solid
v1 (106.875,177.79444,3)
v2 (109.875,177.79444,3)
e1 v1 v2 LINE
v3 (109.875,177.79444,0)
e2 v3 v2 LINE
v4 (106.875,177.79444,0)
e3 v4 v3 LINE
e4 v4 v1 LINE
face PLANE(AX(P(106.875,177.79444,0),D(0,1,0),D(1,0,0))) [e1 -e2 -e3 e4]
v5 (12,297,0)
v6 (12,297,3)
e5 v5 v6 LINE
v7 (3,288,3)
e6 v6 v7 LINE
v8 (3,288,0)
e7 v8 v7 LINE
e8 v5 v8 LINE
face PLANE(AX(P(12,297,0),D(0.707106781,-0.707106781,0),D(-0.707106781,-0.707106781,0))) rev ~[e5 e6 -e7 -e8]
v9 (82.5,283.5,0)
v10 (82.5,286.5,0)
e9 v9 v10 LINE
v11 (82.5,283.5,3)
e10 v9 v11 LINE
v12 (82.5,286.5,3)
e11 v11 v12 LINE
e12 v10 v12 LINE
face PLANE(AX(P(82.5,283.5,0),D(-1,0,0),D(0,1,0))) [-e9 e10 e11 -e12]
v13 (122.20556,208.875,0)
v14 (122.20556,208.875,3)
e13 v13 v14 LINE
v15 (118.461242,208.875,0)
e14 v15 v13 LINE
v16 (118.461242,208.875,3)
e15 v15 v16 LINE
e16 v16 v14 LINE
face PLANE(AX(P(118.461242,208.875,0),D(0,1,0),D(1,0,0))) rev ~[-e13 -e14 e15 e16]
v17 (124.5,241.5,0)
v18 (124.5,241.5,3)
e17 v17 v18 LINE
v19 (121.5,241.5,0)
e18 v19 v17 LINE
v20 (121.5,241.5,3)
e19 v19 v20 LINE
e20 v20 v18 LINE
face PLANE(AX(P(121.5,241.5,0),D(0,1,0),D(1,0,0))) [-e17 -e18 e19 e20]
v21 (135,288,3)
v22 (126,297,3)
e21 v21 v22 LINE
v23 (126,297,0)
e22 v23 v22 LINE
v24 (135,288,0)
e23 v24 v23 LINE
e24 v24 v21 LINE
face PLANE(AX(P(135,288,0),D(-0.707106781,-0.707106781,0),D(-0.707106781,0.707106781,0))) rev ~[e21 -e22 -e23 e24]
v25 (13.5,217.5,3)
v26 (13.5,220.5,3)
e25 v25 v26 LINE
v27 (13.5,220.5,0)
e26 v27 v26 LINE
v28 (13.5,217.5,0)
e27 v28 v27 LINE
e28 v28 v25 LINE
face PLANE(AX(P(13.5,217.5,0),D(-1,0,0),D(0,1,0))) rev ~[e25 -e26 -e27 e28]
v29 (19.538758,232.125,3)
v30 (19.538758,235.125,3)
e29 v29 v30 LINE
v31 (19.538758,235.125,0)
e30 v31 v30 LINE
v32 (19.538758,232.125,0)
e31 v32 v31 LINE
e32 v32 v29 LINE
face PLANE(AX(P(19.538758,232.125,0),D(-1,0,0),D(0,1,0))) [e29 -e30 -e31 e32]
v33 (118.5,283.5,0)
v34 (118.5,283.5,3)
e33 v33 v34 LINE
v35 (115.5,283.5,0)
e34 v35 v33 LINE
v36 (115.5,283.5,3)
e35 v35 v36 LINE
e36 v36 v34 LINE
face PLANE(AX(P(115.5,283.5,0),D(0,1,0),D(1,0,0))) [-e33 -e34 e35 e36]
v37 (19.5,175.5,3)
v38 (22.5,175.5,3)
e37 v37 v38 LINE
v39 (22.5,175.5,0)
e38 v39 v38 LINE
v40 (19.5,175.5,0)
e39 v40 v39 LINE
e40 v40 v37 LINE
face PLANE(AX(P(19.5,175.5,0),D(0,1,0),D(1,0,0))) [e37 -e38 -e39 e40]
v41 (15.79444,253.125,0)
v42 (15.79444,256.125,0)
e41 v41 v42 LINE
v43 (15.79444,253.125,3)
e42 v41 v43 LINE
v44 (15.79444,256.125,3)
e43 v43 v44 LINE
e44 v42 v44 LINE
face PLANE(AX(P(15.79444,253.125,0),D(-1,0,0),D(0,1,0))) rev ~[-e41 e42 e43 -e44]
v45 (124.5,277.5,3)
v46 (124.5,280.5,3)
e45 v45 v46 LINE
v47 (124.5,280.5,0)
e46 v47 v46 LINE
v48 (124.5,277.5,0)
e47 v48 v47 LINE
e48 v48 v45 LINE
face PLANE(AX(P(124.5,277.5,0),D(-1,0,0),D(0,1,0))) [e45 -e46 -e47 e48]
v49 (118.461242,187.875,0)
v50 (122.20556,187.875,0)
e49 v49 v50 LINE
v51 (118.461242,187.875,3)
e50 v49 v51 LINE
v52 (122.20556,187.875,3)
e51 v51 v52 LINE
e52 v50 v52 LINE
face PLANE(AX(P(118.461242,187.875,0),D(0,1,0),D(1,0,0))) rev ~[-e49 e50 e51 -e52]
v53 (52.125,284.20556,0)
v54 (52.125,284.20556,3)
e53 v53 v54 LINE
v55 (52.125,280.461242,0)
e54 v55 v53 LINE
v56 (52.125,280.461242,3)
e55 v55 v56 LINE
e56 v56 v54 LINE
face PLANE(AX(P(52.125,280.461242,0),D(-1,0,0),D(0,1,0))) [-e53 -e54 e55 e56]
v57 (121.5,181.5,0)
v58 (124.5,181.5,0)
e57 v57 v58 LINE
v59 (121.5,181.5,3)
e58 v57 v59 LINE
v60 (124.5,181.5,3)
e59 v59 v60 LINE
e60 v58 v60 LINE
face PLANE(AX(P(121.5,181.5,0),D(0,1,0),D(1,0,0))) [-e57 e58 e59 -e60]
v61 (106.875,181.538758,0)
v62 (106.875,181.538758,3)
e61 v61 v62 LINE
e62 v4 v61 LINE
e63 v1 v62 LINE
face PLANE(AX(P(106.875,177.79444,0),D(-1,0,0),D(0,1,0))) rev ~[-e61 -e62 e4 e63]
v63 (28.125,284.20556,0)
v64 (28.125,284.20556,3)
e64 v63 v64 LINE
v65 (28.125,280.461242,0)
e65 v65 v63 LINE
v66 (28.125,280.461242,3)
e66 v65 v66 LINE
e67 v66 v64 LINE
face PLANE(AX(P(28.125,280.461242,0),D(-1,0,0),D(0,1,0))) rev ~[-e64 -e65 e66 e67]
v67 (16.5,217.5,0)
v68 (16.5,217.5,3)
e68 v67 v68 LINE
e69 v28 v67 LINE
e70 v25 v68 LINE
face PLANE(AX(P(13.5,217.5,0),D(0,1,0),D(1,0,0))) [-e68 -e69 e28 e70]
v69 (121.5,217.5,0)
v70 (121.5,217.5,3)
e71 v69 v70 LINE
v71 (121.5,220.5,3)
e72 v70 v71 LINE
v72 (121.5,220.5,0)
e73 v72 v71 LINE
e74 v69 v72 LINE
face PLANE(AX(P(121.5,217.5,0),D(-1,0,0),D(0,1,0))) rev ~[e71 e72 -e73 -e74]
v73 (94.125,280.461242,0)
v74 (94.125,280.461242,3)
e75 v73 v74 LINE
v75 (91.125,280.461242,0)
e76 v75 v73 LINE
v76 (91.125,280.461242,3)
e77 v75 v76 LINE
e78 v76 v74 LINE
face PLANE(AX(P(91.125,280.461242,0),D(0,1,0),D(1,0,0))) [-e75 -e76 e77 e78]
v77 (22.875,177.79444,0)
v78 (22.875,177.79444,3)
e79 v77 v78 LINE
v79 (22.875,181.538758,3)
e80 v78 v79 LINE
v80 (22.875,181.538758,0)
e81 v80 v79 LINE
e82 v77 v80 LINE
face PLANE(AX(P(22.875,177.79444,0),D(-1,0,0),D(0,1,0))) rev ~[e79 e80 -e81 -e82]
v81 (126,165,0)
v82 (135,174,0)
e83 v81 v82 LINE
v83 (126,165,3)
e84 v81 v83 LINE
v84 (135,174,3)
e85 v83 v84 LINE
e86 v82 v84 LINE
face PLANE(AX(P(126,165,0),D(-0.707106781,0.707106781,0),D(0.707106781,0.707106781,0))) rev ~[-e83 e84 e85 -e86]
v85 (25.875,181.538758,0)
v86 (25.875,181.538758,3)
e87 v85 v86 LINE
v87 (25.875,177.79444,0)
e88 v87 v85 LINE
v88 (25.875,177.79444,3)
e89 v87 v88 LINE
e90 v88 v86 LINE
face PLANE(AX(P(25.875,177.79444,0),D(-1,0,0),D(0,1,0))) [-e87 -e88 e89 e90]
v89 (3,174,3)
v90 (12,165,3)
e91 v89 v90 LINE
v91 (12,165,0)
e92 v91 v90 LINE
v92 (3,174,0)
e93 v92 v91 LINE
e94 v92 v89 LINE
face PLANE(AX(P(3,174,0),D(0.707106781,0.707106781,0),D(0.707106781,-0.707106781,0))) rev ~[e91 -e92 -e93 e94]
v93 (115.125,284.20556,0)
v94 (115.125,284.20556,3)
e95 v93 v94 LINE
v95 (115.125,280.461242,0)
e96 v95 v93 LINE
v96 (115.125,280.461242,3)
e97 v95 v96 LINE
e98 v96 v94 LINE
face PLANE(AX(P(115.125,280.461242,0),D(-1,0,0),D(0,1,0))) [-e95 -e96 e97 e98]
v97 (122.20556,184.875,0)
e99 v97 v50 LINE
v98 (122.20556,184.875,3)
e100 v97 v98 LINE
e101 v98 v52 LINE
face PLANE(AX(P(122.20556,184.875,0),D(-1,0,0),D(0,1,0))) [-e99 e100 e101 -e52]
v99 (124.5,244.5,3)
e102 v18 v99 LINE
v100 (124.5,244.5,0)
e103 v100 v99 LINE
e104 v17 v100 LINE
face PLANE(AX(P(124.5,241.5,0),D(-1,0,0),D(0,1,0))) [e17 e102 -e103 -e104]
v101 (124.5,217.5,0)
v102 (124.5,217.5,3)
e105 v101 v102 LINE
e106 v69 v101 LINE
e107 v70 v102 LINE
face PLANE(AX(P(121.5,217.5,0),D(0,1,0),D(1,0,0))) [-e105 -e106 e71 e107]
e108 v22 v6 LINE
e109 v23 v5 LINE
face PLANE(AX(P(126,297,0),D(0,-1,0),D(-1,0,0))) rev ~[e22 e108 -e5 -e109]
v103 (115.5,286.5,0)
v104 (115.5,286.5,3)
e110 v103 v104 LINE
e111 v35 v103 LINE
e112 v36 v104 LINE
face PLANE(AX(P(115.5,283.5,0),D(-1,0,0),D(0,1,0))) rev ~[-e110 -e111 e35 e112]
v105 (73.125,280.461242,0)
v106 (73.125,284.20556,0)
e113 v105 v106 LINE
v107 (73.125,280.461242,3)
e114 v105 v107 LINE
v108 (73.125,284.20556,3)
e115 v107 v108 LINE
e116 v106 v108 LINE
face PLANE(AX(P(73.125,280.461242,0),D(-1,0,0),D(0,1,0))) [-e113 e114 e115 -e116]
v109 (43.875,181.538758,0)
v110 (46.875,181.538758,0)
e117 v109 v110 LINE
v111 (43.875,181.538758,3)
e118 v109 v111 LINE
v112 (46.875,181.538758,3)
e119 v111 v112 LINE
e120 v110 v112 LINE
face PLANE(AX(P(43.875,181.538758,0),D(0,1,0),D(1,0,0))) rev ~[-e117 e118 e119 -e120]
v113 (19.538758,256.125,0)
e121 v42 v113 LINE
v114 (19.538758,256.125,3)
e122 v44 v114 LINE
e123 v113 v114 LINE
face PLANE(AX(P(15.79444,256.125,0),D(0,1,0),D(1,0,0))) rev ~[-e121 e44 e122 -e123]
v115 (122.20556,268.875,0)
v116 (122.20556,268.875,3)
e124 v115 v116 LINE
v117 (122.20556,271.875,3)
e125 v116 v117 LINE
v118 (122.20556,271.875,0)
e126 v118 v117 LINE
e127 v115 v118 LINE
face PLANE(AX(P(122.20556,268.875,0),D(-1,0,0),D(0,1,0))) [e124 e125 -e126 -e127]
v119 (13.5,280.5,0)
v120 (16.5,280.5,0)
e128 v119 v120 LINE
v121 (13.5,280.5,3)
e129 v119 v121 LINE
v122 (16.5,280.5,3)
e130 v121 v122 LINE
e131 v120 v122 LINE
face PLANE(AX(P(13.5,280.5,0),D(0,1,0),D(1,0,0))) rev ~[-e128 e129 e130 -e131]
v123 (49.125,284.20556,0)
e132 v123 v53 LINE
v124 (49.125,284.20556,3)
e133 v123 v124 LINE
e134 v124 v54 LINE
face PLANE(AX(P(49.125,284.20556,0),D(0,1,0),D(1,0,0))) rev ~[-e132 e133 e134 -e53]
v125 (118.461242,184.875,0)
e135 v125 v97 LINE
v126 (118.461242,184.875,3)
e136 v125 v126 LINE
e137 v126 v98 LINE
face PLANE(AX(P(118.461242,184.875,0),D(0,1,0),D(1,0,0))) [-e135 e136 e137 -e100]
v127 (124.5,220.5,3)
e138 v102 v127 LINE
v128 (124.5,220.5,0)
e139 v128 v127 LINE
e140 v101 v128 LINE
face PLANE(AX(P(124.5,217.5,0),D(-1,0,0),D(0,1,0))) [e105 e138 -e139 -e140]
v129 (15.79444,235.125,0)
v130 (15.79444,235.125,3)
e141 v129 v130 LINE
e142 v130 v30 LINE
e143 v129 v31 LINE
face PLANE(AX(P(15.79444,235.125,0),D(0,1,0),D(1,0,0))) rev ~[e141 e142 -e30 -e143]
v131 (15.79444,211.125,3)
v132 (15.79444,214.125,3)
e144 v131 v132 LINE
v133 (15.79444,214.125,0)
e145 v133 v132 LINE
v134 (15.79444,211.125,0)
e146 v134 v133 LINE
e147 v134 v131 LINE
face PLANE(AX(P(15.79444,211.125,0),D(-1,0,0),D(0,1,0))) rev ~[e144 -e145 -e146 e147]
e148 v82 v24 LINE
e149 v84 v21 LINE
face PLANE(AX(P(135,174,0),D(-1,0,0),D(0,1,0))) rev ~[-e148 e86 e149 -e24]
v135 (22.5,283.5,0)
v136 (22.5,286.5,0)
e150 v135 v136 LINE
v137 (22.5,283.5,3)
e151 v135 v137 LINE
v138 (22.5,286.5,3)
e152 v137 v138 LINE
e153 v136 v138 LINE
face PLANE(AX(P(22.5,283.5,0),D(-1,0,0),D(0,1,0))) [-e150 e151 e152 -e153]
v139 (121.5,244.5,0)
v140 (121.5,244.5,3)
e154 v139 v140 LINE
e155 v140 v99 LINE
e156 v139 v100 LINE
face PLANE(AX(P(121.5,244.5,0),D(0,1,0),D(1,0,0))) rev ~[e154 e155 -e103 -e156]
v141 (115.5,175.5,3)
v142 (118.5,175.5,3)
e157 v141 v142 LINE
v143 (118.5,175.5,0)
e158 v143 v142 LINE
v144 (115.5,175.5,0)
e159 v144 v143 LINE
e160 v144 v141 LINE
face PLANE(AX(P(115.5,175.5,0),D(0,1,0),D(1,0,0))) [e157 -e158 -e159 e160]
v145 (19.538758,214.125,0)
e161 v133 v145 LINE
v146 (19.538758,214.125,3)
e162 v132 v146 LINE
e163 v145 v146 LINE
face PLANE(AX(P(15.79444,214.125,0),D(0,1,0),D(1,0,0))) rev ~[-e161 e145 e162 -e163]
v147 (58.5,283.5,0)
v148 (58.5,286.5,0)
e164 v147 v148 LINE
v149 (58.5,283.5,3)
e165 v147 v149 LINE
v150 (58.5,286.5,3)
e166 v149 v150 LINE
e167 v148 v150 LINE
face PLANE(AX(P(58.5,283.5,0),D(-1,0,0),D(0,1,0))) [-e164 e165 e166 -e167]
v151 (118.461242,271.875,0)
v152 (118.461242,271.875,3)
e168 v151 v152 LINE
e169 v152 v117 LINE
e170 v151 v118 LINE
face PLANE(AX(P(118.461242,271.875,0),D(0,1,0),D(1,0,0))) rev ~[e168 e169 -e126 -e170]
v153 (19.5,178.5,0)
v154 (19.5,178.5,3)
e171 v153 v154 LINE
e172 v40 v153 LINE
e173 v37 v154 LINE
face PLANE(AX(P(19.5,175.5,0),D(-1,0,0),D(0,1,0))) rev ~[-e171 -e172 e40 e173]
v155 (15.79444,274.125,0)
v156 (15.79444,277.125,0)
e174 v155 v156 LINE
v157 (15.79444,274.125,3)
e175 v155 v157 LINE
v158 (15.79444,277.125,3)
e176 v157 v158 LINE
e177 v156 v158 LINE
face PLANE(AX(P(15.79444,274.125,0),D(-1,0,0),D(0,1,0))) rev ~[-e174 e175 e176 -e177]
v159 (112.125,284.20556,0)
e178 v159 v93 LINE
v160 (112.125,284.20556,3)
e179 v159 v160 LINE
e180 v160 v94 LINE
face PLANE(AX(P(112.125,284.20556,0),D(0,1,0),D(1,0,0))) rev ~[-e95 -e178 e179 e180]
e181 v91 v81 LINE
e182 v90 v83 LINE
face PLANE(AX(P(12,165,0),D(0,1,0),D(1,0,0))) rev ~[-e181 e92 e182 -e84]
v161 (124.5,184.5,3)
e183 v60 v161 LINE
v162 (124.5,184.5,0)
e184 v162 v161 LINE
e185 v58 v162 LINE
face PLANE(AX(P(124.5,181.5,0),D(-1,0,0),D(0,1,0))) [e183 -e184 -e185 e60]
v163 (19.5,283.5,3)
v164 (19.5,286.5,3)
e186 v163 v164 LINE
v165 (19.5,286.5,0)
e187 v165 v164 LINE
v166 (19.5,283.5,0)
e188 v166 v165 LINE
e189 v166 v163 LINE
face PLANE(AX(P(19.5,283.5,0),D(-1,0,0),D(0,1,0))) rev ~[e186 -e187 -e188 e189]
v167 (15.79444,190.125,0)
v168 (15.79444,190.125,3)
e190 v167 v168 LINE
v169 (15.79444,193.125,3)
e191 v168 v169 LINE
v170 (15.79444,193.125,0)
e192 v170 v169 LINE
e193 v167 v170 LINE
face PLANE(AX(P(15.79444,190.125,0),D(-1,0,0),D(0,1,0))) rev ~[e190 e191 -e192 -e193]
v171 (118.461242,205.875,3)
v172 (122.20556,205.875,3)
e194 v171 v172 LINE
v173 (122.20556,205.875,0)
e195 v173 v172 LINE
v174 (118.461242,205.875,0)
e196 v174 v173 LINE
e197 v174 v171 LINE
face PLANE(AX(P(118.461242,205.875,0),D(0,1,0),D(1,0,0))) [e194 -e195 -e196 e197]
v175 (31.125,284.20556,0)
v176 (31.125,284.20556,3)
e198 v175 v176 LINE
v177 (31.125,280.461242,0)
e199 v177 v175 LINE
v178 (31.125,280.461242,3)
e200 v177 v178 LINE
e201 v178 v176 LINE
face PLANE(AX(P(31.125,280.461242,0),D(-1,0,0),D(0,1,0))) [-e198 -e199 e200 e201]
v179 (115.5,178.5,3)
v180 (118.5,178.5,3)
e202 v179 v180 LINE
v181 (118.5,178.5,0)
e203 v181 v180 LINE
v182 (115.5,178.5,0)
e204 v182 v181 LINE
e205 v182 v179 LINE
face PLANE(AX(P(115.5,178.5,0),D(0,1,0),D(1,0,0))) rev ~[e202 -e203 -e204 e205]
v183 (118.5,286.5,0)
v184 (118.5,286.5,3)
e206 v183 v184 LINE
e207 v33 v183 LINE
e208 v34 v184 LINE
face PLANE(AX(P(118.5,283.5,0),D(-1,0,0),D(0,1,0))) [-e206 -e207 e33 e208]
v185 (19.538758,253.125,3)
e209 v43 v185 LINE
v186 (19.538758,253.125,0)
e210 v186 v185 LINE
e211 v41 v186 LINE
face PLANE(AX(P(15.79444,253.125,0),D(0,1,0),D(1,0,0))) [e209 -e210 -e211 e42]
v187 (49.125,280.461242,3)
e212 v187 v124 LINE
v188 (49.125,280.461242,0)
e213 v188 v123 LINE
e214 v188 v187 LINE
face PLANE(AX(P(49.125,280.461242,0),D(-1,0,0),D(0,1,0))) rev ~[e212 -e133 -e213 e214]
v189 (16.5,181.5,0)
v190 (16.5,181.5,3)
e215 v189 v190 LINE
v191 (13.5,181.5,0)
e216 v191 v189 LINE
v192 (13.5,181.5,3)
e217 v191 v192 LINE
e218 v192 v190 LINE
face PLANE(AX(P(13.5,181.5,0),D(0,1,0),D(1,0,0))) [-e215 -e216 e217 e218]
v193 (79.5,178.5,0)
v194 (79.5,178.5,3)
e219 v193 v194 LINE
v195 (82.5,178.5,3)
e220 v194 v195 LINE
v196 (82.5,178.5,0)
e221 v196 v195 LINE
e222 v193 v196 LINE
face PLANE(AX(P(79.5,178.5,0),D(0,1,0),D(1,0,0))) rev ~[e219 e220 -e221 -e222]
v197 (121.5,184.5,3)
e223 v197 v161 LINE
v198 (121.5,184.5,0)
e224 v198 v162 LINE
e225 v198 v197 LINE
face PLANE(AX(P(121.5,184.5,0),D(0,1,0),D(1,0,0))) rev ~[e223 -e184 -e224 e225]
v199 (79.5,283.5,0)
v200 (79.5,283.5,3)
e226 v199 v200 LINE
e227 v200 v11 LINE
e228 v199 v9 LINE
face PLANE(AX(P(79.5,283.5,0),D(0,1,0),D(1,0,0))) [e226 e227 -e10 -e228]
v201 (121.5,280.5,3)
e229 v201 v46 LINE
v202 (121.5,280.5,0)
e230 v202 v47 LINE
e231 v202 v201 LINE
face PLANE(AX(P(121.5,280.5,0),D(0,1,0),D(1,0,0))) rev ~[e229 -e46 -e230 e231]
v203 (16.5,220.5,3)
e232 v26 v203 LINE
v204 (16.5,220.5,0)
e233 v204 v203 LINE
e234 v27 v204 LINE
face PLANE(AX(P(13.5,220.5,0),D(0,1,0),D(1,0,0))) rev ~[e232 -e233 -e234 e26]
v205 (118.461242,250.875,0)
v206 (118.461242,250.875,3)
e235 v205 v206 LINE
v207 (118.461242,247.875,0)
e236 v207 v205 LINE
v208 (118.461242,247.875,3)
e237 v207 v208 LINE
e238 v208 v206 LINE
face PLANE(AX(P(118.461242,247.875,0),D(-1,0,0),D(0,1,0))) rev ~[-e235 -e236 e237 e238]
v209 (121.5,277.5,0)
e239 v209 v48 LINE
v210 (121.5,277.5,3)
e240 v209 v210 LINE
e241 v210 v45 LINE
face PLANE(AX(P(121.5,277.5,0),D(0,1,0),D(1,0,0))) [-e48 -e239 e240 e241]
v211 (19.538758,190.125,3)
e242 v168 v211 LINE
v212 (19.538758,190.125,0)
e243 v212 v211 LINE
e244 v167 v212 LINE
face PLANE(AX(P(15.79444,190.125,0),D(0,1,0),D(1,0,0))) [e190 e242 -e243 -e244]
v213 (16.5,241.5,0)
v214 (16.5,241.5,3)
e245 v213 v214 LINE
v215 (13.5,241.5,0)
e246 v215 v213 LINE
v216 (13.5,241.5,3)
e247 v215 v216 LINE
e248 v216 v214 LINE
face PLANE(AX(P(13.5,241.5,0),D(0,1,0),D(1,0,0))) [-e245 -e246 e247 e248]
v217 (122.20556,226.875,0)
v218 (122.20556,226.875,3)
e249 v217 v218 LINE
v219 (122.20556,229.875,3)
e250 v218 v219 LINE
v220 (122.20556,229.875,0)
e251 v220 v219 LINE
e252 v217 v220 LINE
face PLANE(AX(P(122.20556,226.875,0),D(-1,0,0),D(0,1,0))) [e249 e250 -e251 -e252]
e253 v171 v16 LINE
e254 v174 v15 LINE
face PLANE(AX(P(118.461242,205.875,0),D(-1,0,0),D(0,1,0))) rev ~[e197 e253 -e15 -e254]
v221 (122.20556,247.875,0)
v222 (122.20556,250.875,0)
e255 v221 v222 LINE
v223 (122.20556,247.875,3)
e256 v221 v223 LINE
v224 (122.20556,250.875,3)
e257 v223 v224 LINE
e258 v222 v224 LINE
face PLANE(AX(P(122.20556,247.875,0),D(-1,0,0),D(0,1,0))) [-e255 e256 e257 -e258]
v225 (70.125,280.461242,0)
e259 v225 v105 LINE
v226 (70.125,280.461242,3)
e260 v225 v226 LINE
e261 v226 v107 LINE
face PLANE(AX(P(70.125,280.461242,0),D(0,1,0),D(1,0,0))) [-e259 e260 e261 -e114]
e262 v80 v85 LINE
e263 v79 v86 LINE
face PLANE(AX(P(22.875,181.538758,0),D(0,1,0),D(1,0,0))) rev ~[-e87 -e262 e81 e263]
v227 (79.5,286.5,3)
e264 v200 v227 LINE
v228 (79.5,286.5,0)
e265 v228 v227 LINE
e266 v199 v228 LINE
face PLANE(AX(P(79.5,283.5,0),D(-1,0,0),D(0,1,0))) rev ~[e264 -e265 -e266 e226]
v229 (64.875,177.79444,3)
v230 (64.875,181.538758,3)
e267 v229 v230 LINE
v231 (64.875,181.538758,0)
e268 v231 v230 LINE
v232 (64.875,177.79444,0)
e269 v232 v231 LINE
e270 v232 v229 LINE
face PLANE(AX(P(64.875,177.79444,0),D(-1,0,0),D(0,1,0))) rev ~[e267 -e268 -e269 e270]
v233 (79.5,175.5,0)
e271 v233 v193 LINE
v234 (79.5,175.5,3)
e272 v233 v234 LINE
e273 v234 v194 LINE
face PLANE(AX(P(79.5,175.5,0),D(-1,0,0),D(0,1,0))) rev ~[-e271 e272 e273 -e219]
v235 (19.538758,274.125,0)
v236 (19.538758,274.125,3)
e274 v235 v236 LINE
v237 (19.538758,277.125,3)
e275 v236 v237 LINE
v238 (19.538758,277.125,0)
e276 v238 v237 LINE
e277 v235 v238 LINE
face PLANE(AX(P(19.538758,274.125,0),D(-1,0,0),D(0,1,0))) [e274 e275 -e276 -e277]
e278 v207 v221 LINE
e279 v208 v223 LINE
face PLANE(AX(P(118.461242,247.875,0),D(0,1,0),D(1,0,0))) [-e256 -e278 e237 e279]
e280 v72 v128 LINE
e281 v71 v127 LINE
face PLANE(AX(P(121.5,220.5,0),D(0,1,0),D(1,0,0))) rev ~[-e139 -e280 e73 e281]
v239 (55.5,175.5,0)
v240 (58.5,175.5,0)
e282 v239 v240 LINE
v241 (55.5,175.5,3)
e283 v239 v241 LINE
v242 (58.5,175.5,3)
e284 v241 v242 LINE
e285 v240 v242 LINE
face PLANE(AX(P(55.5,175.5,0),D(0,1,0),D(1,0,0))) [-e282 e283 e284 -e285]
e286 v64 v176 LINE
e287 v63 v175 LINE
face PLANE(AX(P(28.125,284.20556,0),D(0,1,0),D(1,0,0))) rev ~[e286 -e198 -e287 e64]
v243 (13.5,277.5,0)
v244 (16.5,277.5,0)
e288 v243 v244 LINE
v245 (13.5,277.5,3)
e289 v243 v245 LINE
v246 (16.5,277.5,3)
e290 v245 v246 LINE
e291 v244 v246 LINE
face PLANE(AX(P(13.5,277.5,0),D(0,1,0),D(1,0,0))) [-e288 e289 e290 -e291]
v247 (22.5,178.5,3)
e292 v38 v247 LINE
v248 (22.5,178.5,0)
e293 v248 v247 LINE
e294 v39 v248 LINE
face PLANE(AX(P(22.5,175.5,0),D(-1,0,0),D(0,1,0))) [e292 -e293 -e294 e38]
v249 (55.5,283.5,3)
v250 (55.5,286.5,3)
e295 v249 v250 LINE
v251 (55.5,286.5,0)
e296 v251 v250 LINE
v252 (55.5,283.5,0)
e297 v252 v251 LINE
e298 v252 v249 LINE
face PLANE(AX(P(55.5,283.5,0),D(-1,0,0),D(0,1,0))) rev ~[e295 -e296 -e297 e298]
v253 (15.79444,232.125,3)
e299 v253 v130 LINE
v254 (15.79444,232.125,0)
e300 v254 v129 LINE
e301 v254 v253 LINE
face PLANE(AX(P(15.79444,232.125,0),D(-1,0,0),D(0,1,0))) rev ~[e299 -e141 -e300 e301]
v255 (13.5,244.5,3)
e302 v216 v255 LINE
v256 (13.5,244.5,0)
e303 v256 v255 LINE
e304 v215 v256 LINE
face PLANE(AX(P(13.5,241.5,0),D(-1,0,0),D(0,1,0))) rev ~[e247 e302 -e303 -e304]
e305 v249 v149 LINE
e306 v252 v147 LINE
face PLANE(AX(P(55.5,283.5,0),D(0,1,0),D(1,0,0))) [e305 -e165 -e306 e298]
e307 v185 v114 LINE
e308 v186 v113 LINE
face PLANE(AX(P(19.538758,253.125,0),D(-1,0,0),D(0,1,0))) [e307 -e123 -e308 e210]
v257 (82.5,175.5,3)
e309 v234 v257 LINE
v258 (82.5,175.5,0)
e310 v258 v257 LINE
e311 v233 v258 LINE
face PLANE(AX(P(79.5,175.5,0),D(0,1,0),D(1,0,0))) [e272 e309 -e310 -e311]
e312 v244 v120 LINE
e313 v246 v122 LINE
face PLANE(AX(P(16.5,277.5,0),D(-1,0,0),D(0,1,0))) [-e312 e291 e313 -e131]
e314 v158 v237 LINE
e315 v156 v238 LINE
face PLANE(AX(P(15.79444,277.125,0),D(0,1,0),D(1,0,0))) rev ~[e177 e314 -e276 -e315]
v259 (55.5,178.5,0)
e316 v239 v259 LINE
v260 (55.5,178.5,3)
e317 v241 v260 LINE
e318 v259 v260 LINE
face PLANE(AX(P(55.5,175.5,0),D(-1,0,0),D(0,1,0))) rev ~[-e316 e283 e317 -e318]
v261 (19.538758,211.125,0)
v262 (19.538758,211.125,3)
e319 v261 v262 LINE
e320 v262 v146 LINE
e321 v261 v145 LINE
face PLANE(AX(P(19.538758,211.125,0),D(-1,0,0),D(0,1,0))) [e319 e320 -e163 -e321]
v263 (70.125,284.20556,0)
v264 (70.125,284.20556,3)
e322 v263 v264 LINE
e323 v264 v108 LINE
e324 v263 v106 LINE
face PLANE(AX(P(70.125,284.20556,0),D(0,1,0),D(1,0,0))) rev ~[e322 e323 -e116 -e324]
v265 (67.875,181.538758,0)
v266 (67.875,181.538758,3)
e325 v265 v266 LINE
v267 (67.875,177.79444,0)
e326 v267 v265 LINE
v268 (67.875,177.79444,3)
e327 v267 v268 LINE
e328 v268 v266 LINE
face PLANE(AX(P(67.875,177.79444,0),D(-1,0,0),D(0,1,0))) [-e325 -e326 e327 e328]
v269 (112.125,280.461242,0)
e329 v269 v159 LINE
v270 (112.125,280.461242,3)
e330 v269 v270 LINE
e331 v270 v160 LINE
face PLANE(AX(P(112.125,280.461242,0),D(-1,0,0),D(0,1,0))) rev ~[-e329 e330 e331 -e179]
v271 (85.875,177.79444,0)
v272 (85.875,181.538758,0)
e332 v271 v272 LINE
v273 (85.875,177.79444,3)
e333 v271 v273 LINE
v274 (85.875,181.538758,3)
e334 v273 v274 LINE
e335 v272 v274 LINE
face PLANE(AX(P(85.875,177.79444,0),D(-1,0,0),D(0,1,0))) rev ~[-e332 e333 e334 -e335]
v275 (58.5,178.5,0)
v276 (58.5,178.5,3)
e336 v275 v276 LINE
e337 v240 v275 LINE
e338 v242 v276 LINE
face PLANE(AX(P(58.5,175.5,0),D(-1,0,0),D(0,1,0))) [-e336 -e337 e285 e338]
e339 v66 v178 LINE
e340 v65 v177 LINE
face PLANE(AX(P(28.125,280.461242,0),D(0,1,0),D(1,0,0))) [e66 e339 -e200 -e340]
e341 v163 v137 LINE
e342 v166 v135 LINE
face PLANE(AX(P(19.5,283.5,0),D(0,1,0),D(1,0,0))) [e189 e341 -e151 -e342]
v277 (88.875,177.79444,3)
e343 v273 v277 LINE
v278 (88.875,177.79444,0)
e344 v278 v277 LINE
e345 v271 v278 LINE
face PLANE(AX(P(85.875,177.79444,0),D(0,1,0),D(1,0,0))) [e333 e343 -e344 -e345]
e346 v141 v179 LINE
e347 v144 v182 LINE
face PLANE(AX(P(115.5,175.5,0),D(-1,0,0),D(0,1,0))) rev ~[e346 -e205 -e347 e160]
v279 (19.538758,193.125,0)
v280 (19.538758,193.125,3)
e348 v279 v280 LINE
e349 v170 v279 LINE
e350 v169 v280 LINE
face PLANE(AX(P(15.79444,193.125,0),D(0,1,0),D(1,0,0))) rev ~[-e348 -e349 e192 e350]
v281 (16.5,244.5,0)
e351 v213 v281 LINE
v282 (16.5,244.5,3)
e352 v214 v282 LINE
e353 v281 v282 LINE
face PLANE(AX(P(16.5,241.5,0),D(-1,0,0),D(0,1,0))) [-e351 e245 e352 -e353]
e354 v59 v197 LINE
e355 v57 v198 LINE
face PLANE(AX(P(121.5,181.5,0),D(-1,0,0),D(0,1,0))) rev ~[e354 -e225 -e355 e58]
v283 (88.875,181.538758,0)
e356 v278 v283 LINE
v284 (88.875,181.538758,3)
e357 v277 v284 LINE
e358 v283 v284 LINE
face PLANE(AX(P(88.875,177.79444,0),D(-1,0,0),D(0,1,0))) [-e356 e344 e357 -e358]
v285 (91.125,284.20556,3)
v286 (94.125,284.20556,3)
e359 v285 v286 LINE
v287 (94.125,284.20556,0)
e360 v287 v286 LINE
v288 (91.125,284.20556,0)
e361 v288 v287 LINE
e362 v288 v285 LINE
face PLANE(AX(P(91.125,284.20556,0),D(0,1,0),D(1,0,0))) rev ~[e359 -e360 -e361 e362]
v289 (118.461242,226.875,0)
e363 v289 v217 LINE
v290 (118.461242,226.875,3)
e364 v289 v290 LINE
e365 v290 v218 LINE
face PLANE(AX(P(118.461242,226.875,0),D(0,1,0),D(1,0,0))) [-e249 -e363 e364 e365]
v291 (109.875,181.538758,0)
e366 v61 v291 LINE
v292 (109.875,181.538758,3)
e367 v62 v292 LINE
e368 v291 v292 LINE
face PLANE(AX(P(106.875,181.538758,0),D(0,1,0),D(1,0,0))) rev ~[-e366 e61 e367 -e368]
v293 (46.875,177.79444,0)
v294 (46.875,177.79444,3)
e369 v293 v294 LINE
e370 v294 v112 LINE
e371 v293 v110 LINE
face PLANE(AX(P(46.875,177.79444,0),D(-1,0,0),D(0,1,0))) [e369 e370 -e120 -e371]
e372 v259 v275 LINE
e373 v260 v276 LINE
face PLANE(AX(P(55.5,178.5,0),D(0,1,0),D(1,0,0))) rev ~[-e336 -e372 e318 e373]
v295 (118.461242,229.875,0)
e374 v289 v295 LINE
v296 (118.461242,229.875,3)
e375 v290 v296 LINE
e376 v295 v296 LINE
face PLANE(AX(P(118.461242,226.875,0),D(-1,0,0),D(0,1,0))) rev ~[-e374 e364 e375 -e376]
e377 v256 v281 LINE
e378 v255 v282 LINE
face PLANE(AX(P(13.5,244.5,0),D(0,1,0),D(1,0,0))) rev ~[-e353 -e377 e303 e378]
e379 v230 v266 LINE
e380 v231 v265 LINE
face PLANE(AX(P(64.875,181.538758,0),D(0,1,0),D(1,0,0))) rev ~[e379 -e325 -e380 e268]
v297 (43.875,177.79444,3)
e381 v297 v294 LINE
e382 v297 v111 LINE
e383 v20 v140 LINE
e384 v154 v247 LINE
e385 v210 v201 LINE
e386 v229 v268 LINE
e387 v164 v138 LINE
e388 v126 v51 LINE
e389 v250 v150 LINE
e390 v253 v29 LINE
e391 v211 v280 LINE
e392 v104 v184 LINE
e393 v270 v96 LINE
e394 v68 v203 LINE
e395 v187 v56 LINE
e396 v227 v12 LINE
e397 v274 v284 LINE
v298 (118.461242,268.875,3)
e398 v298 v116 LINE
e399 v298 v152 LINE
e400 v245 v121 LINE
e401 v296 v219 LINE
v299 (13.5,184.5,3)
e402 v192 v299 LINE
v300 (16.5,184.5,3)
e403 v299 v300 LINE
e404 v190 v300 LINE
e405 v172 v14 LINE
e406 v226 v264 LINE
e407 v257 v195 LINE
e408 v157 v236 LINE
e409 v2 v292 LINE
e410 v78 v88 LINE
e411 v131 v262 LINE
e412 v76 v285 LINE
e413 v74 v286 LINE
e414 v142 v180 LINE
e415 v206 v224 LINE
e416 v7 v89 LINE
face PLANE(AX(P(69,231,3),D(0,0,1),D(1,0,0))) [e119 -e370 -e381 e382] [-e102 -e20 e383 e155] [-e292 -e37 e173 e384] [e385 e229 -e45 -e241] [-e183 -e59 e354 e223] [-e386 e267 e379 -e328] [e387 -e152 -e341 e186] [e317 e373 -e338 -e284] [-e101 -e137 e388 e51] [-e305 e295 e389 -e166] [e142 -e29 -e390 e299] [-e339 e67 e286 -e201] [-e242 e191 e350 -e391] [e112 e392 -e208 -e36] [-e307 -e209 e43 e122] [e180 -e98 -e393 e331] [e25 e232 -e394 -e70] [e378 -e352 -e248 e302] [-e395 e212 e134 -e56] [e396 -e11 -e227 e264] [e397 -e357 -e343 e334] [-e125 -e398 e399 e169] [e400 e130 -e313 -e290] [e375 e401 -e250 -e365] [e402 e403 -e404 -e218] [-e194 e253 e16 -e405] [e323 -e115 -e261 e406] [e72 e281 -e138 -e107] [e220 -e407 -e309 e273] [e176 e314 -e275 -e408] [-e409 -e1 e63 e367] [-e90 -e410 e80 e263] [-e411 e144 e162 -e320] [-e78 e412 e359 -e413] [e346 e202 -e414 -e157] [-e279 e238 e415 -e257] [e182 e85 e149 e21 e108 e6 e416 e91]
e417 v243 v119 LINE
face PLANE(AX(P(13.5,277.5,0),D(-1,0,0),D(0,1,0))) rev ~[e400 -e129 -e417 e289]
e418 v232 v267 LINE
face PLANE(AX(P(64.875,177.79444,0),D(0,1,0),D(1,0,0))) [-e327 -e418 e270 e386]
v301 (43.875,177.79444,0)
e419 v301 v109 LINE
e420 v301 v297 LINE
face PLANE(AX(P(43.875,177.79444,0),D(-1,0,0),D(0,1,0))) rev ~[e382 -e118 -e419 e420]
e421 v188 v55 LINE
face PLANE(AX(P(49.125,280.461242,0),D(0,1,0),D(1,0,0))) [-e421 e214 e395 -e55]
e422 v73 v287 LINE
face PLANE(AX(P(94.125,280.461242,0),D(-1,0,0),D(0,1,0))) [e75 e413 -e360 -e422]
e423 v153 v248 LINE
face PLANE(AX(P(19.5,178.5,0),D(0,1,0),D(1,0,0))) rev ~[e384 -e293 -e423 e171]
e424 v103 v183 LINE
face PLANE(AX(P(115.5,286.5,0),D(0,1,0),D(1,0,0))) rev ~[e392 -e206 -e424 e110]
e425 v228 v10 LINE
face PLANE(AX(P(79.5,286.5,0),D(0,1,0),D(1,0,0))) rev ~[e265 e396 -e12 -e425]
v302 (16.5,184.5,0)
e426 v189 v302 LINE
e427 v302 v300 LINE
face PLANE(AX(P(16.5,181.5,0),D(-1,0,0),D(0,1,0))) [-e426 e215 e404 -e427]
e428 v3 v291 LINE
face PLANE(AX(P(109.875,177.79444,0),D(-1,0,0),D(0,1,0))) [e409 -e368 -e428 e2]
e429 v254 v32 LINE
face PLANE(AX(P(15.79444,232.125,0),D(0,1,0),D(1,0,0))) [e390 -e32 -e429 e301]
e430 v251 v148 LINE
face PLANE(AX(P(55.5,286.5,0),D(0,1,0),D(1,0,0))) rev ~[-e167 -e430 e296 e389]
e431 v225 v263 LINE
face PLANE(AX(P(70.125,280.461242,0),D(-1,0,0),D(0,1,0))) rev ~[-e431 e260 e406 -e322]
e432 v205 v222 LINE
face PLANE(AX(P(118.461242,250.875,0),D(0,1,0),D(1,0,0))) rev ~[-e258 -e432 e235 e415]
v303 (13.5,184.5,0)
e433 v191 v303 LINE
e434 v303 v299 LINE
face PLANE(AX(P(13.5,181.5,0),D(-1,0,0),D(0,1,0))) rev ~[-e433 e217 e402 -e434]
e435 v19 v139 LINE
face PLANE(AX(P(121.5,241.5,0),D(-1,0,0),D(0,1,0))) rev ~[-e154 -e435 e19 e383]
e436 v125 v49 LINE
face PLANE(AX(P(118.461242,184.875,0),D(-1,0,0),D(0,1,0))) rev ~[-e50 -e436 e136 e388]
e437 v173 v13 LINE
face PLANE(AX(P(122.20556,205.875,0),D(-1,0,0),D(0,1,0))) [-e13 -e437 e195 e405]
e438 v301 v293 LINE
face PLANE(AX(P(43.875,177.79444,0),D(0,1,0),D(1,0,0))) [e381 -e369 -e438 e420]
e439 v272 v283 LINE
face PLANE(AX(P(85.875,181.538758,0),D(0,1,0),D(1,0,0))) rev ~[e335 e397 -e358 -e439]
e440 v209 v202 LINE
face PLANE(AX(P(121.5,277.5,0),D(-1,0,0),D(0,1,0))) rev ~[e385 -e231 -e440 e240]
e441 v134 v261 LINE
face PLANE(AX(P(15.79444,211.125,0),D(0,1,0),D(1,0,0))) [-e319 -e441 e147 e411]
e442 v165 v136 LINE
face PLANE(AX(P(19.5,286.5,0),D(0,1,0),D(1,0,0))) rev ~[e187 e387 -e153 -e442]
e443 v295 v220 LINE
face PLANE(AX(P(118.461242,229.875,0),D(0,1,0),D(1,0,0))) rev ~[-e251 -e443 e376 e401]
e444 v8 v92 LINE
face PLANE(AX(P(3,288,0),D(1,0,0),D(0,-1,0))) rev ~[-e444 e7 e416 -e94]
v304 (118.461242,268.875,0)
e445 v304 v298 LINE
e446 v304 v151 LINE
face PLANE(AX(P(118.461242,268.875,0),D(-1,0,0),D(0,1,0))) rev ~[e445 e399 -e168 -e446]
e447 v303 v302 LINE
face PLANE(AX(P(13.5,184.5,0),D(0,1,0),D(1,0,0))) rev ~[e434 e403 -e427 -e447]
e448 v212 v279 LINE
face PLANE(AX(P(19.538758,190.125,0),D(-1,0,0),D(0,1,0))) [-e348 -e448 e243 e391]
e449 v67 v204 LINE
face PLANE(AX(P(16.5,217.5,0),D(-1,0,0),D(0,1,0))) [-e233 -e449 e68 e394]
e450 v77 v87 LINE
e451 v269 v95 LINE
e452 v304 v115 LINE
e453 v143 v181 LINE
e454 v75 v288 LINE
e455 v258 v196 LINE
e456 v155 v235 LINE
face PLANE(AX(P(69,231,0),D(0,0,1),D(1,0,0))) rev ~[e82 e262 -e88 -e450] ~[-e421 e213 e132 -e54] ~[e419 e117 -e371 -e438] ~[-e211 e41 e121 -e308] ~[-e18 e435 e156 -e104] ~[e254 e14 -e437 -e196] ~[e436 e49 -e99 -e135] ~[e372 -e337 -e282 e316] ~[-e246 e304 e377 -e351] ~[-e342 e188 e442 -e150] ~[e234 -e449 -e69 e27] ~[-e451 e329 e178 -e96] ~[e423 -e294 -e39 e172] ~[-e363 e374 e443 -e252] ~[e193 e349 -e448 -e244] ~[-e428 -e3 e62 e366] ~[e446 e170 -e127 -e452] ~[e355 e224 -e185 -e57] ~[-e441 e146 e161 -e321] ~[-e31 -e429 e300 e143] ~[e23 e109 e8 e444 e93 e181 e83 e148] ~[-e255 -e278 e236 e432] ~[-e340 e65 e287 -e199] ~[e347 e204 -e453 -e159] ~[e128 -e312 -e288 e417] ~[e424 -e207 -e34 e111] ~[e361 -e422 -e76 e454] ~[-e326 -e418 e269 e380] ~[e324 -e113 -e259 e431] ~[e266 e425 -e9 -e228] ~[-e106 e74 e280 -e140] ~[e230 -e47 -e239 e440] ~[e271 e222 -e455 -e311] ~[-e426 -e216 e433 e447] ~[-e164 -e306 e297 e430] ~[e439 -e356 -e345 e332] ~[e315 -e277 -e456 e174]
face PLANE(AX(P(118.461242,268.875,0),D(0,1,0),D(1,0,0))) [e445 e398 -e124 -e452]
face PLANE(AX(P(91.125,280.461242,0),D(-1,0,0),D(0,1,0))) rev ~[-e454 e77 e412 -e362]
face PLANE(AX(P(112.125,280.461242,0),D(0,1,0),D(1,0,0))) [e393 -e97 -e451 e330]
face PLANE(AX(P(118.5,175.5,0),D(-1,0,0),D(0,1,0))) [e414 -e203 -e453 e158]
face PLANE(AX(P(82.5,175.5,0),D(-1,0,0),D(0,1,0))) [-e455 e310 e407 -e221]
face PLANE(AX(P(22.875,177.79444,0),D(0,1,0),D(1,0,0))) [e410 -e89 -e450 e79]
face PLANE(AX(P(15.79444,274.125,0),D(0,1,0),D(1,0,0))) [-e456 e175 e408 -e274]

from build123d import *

# Parameters (mm, degrees)
SKETCH1_W           = 3
SKETCH1_H           = 3
SKETCH1_W_2         = 3.744317383
SKETCH1_H_2         = 3.744317383
BOSS_EXTRUDE1_DEPTH = 3


with BuildPart() as part:
    # Sketch1 → Boss-Extrude1 (new body)
    with BuildSketch(Plane.XY):
        Polygon((12, 297), (3, 288), (3, 174), (12, 165), (126, 165), (135, 174), (135, 288), (126, 297), align=None)
        with Locations((57, 285)):
            Rectangle(SKETCH1_W, SKETCH1_H, mode=Mode.SUBTRACT)
        with Locations((81, 285)):
            Rectangle(SKETCH1_W, SKETCH1_H, mode=Mode.SUBTRACT)
        with Locations((21, 285)):
            Rectangle(SKETCH1_W, SKETCH1_H, mode=Mode.SUBTRACT)
        with Locations((117, 285)):
            Rectangle(SKETCH1_W, SKETCH1_H, mode=Mode.SUBTRACT)
        with Locations((81, 177)):
            Rectangle(SKETCH1_W, SKETCH1_H, mode=Mode.SUBTRACT)
        with Locations((57, 177)):
            Rectangle(SKETCH1_W, SKETCH1_H, mode=Mode.SUBTRACT)
        with Locations((117, 177)):
            Rectangle(SKETCH1_W, SKETCH1_H, mode=Mode.SUBTRACT)
        with Locations((21, 177)):
            Rectangle(SKETCH1_W, SKETCH1_H, mode=Mode.SUBTRACT)
        with Locations((15, 279)):
            Rectangle(SKETCH1_W, SKETCH1_H, mode=Mode.SUBTRACT)
        with Locations((15, 183)):
            Rectangle(SKETCH1_W, SKETCH1_H, mode=Mode.SUBTRACT)
        with Locations((15, 243)):
            Rectangle(SKETCH1_W, SKETCH1_H, mode=Mode.SUBTRACT)
        with Locations((15, 219)):
            Rectangle(SKETCH1_W, SKETCH1_H, mode=Mode.SUBTRACT)
        with Locations((123, 183)):
            Rectangle(SKETCH1_W, SKETCH1_H, mode=Mode.SUBTRACT)
        with Locations((123, 279)):
            Rectangle(SKETCH1_W, SKETCH1_H, mode=Mode.SUBTRACT)
        with Locations((123, 219)):
            Rectangle(SKETCH1_W, SKETCH1_H, mode=Mode.SUBTRACT)
        with Locations((123, 243)):
            Rectangle(SKETCH1_W, SKETCH1_H, mode=Mode.SUBTRACT)
        with Locations((17.66659907, 212.625)):
            Rectangle(SKETCH1_W_2, SKETCH1_H, mode=Mode.SUBTRACT)
        with Locations((17.66659907, 254.625)):
            Rectangle(SKETCH1_W_2, SKETCH1_H, mode=Mode.SUBTRACT)
        with Locations((17.66659907, 233.625)):
            Rectangle(SKETCH1_W_2, SKETCH1_H, mode=Mode.SUBTRACT)
        with Locations((17.66659907, 275.625)):
            Rectangle(SKETCH1_W_2, SKETCH1_H, mode=Mode.SUBTRACT)
        with Locations((17.66659907, 191.625)):
            Rectangle(SKETCH1_W_2, SKETCH1_H, mode=Mode.SUBTRACT)
        with Locations((87.375, 179.666599071)):
            Rectangle(SKETCH1_W, SKETCH1_H_2, mode=Mode.SUBTRACT)
        with Locations((45.375, 179.666599071)):
            Rectangle(SKETCH1_W, SKETCH1_H_2, mode=Mode.SUBTRACT)
        with Locations((66.375, 179.666599071)):
            Rectangle(SKETCH1_W, SKETCH1_H_2, mode=Mode.SUBTRACT)
        with Locations((24.375, 179.666599071)):
            Rectangle(SKETCH1_W, SKETCH1_H_2, mode=Mode.SUBTRACT)
        with Locations((108.375, 179.666599071)):
            Rectangle(SKETCH1_W, SKETCH1_H_2, mode=Mode.SUBTRACT)
        with Locations((120.33340093, 249.375)):
            Rectangle(SKETCH1_W_2, SKETCH1_H, mode=Mode.SUBTRACT)
        with Locations((120.33340093, 207.375)):
            Rectangle(SKETCH1_W_2, SKETCH1_H, mode=Mode.SUBTRACT)
        with Locations((120.33340093, 228.375)):
            Rectangle(SKETCH1_W_2, SKETCH1_H, mode=Mode.SUBTRACT)
        with Locations((120.33340093, 186.375)):
            Rectangle(SKETCH1_W_2, SKETCH1_H, mode=Mode.SUBTRACT)
        with Locations((120.33340093, 270.375)):
            Rectangle(SKETCH1_W_2, SKETCH1_H, mode=Mode.SUBTRACT)
        with Locations((50.625, 282.33340093)):
            Rectangle(SKETCH1_W, SKETCH1_H_2, mode=Mode.SUBTRACT)
        with Locations((92.625, 282.33340093)):
            Rectangle(SKETCH1_W, SKETCH1_H_2, mode=Mode.SUBTRACT)
        with Locations((71.625, 282.33340093)):
            Rectangle(SKETCH1_W, SKETCH1_H_2, mode=Mode.SUBTRACT)
        with Locations((113.625, 282.33340093)):
            Rectangle(SKETCH1_W, SKETCH1_H_2, mode=Mode.SUBTRACT)
        with Locations((29.625, 282.33340093)):
            Rectangle(SKETCH1_W, SKETCH1_H_2, mode=Mode.SUBTRACT)
    extrude(amount=BOSS_EXTRUDE1_DEPTH)


solid = part.part
